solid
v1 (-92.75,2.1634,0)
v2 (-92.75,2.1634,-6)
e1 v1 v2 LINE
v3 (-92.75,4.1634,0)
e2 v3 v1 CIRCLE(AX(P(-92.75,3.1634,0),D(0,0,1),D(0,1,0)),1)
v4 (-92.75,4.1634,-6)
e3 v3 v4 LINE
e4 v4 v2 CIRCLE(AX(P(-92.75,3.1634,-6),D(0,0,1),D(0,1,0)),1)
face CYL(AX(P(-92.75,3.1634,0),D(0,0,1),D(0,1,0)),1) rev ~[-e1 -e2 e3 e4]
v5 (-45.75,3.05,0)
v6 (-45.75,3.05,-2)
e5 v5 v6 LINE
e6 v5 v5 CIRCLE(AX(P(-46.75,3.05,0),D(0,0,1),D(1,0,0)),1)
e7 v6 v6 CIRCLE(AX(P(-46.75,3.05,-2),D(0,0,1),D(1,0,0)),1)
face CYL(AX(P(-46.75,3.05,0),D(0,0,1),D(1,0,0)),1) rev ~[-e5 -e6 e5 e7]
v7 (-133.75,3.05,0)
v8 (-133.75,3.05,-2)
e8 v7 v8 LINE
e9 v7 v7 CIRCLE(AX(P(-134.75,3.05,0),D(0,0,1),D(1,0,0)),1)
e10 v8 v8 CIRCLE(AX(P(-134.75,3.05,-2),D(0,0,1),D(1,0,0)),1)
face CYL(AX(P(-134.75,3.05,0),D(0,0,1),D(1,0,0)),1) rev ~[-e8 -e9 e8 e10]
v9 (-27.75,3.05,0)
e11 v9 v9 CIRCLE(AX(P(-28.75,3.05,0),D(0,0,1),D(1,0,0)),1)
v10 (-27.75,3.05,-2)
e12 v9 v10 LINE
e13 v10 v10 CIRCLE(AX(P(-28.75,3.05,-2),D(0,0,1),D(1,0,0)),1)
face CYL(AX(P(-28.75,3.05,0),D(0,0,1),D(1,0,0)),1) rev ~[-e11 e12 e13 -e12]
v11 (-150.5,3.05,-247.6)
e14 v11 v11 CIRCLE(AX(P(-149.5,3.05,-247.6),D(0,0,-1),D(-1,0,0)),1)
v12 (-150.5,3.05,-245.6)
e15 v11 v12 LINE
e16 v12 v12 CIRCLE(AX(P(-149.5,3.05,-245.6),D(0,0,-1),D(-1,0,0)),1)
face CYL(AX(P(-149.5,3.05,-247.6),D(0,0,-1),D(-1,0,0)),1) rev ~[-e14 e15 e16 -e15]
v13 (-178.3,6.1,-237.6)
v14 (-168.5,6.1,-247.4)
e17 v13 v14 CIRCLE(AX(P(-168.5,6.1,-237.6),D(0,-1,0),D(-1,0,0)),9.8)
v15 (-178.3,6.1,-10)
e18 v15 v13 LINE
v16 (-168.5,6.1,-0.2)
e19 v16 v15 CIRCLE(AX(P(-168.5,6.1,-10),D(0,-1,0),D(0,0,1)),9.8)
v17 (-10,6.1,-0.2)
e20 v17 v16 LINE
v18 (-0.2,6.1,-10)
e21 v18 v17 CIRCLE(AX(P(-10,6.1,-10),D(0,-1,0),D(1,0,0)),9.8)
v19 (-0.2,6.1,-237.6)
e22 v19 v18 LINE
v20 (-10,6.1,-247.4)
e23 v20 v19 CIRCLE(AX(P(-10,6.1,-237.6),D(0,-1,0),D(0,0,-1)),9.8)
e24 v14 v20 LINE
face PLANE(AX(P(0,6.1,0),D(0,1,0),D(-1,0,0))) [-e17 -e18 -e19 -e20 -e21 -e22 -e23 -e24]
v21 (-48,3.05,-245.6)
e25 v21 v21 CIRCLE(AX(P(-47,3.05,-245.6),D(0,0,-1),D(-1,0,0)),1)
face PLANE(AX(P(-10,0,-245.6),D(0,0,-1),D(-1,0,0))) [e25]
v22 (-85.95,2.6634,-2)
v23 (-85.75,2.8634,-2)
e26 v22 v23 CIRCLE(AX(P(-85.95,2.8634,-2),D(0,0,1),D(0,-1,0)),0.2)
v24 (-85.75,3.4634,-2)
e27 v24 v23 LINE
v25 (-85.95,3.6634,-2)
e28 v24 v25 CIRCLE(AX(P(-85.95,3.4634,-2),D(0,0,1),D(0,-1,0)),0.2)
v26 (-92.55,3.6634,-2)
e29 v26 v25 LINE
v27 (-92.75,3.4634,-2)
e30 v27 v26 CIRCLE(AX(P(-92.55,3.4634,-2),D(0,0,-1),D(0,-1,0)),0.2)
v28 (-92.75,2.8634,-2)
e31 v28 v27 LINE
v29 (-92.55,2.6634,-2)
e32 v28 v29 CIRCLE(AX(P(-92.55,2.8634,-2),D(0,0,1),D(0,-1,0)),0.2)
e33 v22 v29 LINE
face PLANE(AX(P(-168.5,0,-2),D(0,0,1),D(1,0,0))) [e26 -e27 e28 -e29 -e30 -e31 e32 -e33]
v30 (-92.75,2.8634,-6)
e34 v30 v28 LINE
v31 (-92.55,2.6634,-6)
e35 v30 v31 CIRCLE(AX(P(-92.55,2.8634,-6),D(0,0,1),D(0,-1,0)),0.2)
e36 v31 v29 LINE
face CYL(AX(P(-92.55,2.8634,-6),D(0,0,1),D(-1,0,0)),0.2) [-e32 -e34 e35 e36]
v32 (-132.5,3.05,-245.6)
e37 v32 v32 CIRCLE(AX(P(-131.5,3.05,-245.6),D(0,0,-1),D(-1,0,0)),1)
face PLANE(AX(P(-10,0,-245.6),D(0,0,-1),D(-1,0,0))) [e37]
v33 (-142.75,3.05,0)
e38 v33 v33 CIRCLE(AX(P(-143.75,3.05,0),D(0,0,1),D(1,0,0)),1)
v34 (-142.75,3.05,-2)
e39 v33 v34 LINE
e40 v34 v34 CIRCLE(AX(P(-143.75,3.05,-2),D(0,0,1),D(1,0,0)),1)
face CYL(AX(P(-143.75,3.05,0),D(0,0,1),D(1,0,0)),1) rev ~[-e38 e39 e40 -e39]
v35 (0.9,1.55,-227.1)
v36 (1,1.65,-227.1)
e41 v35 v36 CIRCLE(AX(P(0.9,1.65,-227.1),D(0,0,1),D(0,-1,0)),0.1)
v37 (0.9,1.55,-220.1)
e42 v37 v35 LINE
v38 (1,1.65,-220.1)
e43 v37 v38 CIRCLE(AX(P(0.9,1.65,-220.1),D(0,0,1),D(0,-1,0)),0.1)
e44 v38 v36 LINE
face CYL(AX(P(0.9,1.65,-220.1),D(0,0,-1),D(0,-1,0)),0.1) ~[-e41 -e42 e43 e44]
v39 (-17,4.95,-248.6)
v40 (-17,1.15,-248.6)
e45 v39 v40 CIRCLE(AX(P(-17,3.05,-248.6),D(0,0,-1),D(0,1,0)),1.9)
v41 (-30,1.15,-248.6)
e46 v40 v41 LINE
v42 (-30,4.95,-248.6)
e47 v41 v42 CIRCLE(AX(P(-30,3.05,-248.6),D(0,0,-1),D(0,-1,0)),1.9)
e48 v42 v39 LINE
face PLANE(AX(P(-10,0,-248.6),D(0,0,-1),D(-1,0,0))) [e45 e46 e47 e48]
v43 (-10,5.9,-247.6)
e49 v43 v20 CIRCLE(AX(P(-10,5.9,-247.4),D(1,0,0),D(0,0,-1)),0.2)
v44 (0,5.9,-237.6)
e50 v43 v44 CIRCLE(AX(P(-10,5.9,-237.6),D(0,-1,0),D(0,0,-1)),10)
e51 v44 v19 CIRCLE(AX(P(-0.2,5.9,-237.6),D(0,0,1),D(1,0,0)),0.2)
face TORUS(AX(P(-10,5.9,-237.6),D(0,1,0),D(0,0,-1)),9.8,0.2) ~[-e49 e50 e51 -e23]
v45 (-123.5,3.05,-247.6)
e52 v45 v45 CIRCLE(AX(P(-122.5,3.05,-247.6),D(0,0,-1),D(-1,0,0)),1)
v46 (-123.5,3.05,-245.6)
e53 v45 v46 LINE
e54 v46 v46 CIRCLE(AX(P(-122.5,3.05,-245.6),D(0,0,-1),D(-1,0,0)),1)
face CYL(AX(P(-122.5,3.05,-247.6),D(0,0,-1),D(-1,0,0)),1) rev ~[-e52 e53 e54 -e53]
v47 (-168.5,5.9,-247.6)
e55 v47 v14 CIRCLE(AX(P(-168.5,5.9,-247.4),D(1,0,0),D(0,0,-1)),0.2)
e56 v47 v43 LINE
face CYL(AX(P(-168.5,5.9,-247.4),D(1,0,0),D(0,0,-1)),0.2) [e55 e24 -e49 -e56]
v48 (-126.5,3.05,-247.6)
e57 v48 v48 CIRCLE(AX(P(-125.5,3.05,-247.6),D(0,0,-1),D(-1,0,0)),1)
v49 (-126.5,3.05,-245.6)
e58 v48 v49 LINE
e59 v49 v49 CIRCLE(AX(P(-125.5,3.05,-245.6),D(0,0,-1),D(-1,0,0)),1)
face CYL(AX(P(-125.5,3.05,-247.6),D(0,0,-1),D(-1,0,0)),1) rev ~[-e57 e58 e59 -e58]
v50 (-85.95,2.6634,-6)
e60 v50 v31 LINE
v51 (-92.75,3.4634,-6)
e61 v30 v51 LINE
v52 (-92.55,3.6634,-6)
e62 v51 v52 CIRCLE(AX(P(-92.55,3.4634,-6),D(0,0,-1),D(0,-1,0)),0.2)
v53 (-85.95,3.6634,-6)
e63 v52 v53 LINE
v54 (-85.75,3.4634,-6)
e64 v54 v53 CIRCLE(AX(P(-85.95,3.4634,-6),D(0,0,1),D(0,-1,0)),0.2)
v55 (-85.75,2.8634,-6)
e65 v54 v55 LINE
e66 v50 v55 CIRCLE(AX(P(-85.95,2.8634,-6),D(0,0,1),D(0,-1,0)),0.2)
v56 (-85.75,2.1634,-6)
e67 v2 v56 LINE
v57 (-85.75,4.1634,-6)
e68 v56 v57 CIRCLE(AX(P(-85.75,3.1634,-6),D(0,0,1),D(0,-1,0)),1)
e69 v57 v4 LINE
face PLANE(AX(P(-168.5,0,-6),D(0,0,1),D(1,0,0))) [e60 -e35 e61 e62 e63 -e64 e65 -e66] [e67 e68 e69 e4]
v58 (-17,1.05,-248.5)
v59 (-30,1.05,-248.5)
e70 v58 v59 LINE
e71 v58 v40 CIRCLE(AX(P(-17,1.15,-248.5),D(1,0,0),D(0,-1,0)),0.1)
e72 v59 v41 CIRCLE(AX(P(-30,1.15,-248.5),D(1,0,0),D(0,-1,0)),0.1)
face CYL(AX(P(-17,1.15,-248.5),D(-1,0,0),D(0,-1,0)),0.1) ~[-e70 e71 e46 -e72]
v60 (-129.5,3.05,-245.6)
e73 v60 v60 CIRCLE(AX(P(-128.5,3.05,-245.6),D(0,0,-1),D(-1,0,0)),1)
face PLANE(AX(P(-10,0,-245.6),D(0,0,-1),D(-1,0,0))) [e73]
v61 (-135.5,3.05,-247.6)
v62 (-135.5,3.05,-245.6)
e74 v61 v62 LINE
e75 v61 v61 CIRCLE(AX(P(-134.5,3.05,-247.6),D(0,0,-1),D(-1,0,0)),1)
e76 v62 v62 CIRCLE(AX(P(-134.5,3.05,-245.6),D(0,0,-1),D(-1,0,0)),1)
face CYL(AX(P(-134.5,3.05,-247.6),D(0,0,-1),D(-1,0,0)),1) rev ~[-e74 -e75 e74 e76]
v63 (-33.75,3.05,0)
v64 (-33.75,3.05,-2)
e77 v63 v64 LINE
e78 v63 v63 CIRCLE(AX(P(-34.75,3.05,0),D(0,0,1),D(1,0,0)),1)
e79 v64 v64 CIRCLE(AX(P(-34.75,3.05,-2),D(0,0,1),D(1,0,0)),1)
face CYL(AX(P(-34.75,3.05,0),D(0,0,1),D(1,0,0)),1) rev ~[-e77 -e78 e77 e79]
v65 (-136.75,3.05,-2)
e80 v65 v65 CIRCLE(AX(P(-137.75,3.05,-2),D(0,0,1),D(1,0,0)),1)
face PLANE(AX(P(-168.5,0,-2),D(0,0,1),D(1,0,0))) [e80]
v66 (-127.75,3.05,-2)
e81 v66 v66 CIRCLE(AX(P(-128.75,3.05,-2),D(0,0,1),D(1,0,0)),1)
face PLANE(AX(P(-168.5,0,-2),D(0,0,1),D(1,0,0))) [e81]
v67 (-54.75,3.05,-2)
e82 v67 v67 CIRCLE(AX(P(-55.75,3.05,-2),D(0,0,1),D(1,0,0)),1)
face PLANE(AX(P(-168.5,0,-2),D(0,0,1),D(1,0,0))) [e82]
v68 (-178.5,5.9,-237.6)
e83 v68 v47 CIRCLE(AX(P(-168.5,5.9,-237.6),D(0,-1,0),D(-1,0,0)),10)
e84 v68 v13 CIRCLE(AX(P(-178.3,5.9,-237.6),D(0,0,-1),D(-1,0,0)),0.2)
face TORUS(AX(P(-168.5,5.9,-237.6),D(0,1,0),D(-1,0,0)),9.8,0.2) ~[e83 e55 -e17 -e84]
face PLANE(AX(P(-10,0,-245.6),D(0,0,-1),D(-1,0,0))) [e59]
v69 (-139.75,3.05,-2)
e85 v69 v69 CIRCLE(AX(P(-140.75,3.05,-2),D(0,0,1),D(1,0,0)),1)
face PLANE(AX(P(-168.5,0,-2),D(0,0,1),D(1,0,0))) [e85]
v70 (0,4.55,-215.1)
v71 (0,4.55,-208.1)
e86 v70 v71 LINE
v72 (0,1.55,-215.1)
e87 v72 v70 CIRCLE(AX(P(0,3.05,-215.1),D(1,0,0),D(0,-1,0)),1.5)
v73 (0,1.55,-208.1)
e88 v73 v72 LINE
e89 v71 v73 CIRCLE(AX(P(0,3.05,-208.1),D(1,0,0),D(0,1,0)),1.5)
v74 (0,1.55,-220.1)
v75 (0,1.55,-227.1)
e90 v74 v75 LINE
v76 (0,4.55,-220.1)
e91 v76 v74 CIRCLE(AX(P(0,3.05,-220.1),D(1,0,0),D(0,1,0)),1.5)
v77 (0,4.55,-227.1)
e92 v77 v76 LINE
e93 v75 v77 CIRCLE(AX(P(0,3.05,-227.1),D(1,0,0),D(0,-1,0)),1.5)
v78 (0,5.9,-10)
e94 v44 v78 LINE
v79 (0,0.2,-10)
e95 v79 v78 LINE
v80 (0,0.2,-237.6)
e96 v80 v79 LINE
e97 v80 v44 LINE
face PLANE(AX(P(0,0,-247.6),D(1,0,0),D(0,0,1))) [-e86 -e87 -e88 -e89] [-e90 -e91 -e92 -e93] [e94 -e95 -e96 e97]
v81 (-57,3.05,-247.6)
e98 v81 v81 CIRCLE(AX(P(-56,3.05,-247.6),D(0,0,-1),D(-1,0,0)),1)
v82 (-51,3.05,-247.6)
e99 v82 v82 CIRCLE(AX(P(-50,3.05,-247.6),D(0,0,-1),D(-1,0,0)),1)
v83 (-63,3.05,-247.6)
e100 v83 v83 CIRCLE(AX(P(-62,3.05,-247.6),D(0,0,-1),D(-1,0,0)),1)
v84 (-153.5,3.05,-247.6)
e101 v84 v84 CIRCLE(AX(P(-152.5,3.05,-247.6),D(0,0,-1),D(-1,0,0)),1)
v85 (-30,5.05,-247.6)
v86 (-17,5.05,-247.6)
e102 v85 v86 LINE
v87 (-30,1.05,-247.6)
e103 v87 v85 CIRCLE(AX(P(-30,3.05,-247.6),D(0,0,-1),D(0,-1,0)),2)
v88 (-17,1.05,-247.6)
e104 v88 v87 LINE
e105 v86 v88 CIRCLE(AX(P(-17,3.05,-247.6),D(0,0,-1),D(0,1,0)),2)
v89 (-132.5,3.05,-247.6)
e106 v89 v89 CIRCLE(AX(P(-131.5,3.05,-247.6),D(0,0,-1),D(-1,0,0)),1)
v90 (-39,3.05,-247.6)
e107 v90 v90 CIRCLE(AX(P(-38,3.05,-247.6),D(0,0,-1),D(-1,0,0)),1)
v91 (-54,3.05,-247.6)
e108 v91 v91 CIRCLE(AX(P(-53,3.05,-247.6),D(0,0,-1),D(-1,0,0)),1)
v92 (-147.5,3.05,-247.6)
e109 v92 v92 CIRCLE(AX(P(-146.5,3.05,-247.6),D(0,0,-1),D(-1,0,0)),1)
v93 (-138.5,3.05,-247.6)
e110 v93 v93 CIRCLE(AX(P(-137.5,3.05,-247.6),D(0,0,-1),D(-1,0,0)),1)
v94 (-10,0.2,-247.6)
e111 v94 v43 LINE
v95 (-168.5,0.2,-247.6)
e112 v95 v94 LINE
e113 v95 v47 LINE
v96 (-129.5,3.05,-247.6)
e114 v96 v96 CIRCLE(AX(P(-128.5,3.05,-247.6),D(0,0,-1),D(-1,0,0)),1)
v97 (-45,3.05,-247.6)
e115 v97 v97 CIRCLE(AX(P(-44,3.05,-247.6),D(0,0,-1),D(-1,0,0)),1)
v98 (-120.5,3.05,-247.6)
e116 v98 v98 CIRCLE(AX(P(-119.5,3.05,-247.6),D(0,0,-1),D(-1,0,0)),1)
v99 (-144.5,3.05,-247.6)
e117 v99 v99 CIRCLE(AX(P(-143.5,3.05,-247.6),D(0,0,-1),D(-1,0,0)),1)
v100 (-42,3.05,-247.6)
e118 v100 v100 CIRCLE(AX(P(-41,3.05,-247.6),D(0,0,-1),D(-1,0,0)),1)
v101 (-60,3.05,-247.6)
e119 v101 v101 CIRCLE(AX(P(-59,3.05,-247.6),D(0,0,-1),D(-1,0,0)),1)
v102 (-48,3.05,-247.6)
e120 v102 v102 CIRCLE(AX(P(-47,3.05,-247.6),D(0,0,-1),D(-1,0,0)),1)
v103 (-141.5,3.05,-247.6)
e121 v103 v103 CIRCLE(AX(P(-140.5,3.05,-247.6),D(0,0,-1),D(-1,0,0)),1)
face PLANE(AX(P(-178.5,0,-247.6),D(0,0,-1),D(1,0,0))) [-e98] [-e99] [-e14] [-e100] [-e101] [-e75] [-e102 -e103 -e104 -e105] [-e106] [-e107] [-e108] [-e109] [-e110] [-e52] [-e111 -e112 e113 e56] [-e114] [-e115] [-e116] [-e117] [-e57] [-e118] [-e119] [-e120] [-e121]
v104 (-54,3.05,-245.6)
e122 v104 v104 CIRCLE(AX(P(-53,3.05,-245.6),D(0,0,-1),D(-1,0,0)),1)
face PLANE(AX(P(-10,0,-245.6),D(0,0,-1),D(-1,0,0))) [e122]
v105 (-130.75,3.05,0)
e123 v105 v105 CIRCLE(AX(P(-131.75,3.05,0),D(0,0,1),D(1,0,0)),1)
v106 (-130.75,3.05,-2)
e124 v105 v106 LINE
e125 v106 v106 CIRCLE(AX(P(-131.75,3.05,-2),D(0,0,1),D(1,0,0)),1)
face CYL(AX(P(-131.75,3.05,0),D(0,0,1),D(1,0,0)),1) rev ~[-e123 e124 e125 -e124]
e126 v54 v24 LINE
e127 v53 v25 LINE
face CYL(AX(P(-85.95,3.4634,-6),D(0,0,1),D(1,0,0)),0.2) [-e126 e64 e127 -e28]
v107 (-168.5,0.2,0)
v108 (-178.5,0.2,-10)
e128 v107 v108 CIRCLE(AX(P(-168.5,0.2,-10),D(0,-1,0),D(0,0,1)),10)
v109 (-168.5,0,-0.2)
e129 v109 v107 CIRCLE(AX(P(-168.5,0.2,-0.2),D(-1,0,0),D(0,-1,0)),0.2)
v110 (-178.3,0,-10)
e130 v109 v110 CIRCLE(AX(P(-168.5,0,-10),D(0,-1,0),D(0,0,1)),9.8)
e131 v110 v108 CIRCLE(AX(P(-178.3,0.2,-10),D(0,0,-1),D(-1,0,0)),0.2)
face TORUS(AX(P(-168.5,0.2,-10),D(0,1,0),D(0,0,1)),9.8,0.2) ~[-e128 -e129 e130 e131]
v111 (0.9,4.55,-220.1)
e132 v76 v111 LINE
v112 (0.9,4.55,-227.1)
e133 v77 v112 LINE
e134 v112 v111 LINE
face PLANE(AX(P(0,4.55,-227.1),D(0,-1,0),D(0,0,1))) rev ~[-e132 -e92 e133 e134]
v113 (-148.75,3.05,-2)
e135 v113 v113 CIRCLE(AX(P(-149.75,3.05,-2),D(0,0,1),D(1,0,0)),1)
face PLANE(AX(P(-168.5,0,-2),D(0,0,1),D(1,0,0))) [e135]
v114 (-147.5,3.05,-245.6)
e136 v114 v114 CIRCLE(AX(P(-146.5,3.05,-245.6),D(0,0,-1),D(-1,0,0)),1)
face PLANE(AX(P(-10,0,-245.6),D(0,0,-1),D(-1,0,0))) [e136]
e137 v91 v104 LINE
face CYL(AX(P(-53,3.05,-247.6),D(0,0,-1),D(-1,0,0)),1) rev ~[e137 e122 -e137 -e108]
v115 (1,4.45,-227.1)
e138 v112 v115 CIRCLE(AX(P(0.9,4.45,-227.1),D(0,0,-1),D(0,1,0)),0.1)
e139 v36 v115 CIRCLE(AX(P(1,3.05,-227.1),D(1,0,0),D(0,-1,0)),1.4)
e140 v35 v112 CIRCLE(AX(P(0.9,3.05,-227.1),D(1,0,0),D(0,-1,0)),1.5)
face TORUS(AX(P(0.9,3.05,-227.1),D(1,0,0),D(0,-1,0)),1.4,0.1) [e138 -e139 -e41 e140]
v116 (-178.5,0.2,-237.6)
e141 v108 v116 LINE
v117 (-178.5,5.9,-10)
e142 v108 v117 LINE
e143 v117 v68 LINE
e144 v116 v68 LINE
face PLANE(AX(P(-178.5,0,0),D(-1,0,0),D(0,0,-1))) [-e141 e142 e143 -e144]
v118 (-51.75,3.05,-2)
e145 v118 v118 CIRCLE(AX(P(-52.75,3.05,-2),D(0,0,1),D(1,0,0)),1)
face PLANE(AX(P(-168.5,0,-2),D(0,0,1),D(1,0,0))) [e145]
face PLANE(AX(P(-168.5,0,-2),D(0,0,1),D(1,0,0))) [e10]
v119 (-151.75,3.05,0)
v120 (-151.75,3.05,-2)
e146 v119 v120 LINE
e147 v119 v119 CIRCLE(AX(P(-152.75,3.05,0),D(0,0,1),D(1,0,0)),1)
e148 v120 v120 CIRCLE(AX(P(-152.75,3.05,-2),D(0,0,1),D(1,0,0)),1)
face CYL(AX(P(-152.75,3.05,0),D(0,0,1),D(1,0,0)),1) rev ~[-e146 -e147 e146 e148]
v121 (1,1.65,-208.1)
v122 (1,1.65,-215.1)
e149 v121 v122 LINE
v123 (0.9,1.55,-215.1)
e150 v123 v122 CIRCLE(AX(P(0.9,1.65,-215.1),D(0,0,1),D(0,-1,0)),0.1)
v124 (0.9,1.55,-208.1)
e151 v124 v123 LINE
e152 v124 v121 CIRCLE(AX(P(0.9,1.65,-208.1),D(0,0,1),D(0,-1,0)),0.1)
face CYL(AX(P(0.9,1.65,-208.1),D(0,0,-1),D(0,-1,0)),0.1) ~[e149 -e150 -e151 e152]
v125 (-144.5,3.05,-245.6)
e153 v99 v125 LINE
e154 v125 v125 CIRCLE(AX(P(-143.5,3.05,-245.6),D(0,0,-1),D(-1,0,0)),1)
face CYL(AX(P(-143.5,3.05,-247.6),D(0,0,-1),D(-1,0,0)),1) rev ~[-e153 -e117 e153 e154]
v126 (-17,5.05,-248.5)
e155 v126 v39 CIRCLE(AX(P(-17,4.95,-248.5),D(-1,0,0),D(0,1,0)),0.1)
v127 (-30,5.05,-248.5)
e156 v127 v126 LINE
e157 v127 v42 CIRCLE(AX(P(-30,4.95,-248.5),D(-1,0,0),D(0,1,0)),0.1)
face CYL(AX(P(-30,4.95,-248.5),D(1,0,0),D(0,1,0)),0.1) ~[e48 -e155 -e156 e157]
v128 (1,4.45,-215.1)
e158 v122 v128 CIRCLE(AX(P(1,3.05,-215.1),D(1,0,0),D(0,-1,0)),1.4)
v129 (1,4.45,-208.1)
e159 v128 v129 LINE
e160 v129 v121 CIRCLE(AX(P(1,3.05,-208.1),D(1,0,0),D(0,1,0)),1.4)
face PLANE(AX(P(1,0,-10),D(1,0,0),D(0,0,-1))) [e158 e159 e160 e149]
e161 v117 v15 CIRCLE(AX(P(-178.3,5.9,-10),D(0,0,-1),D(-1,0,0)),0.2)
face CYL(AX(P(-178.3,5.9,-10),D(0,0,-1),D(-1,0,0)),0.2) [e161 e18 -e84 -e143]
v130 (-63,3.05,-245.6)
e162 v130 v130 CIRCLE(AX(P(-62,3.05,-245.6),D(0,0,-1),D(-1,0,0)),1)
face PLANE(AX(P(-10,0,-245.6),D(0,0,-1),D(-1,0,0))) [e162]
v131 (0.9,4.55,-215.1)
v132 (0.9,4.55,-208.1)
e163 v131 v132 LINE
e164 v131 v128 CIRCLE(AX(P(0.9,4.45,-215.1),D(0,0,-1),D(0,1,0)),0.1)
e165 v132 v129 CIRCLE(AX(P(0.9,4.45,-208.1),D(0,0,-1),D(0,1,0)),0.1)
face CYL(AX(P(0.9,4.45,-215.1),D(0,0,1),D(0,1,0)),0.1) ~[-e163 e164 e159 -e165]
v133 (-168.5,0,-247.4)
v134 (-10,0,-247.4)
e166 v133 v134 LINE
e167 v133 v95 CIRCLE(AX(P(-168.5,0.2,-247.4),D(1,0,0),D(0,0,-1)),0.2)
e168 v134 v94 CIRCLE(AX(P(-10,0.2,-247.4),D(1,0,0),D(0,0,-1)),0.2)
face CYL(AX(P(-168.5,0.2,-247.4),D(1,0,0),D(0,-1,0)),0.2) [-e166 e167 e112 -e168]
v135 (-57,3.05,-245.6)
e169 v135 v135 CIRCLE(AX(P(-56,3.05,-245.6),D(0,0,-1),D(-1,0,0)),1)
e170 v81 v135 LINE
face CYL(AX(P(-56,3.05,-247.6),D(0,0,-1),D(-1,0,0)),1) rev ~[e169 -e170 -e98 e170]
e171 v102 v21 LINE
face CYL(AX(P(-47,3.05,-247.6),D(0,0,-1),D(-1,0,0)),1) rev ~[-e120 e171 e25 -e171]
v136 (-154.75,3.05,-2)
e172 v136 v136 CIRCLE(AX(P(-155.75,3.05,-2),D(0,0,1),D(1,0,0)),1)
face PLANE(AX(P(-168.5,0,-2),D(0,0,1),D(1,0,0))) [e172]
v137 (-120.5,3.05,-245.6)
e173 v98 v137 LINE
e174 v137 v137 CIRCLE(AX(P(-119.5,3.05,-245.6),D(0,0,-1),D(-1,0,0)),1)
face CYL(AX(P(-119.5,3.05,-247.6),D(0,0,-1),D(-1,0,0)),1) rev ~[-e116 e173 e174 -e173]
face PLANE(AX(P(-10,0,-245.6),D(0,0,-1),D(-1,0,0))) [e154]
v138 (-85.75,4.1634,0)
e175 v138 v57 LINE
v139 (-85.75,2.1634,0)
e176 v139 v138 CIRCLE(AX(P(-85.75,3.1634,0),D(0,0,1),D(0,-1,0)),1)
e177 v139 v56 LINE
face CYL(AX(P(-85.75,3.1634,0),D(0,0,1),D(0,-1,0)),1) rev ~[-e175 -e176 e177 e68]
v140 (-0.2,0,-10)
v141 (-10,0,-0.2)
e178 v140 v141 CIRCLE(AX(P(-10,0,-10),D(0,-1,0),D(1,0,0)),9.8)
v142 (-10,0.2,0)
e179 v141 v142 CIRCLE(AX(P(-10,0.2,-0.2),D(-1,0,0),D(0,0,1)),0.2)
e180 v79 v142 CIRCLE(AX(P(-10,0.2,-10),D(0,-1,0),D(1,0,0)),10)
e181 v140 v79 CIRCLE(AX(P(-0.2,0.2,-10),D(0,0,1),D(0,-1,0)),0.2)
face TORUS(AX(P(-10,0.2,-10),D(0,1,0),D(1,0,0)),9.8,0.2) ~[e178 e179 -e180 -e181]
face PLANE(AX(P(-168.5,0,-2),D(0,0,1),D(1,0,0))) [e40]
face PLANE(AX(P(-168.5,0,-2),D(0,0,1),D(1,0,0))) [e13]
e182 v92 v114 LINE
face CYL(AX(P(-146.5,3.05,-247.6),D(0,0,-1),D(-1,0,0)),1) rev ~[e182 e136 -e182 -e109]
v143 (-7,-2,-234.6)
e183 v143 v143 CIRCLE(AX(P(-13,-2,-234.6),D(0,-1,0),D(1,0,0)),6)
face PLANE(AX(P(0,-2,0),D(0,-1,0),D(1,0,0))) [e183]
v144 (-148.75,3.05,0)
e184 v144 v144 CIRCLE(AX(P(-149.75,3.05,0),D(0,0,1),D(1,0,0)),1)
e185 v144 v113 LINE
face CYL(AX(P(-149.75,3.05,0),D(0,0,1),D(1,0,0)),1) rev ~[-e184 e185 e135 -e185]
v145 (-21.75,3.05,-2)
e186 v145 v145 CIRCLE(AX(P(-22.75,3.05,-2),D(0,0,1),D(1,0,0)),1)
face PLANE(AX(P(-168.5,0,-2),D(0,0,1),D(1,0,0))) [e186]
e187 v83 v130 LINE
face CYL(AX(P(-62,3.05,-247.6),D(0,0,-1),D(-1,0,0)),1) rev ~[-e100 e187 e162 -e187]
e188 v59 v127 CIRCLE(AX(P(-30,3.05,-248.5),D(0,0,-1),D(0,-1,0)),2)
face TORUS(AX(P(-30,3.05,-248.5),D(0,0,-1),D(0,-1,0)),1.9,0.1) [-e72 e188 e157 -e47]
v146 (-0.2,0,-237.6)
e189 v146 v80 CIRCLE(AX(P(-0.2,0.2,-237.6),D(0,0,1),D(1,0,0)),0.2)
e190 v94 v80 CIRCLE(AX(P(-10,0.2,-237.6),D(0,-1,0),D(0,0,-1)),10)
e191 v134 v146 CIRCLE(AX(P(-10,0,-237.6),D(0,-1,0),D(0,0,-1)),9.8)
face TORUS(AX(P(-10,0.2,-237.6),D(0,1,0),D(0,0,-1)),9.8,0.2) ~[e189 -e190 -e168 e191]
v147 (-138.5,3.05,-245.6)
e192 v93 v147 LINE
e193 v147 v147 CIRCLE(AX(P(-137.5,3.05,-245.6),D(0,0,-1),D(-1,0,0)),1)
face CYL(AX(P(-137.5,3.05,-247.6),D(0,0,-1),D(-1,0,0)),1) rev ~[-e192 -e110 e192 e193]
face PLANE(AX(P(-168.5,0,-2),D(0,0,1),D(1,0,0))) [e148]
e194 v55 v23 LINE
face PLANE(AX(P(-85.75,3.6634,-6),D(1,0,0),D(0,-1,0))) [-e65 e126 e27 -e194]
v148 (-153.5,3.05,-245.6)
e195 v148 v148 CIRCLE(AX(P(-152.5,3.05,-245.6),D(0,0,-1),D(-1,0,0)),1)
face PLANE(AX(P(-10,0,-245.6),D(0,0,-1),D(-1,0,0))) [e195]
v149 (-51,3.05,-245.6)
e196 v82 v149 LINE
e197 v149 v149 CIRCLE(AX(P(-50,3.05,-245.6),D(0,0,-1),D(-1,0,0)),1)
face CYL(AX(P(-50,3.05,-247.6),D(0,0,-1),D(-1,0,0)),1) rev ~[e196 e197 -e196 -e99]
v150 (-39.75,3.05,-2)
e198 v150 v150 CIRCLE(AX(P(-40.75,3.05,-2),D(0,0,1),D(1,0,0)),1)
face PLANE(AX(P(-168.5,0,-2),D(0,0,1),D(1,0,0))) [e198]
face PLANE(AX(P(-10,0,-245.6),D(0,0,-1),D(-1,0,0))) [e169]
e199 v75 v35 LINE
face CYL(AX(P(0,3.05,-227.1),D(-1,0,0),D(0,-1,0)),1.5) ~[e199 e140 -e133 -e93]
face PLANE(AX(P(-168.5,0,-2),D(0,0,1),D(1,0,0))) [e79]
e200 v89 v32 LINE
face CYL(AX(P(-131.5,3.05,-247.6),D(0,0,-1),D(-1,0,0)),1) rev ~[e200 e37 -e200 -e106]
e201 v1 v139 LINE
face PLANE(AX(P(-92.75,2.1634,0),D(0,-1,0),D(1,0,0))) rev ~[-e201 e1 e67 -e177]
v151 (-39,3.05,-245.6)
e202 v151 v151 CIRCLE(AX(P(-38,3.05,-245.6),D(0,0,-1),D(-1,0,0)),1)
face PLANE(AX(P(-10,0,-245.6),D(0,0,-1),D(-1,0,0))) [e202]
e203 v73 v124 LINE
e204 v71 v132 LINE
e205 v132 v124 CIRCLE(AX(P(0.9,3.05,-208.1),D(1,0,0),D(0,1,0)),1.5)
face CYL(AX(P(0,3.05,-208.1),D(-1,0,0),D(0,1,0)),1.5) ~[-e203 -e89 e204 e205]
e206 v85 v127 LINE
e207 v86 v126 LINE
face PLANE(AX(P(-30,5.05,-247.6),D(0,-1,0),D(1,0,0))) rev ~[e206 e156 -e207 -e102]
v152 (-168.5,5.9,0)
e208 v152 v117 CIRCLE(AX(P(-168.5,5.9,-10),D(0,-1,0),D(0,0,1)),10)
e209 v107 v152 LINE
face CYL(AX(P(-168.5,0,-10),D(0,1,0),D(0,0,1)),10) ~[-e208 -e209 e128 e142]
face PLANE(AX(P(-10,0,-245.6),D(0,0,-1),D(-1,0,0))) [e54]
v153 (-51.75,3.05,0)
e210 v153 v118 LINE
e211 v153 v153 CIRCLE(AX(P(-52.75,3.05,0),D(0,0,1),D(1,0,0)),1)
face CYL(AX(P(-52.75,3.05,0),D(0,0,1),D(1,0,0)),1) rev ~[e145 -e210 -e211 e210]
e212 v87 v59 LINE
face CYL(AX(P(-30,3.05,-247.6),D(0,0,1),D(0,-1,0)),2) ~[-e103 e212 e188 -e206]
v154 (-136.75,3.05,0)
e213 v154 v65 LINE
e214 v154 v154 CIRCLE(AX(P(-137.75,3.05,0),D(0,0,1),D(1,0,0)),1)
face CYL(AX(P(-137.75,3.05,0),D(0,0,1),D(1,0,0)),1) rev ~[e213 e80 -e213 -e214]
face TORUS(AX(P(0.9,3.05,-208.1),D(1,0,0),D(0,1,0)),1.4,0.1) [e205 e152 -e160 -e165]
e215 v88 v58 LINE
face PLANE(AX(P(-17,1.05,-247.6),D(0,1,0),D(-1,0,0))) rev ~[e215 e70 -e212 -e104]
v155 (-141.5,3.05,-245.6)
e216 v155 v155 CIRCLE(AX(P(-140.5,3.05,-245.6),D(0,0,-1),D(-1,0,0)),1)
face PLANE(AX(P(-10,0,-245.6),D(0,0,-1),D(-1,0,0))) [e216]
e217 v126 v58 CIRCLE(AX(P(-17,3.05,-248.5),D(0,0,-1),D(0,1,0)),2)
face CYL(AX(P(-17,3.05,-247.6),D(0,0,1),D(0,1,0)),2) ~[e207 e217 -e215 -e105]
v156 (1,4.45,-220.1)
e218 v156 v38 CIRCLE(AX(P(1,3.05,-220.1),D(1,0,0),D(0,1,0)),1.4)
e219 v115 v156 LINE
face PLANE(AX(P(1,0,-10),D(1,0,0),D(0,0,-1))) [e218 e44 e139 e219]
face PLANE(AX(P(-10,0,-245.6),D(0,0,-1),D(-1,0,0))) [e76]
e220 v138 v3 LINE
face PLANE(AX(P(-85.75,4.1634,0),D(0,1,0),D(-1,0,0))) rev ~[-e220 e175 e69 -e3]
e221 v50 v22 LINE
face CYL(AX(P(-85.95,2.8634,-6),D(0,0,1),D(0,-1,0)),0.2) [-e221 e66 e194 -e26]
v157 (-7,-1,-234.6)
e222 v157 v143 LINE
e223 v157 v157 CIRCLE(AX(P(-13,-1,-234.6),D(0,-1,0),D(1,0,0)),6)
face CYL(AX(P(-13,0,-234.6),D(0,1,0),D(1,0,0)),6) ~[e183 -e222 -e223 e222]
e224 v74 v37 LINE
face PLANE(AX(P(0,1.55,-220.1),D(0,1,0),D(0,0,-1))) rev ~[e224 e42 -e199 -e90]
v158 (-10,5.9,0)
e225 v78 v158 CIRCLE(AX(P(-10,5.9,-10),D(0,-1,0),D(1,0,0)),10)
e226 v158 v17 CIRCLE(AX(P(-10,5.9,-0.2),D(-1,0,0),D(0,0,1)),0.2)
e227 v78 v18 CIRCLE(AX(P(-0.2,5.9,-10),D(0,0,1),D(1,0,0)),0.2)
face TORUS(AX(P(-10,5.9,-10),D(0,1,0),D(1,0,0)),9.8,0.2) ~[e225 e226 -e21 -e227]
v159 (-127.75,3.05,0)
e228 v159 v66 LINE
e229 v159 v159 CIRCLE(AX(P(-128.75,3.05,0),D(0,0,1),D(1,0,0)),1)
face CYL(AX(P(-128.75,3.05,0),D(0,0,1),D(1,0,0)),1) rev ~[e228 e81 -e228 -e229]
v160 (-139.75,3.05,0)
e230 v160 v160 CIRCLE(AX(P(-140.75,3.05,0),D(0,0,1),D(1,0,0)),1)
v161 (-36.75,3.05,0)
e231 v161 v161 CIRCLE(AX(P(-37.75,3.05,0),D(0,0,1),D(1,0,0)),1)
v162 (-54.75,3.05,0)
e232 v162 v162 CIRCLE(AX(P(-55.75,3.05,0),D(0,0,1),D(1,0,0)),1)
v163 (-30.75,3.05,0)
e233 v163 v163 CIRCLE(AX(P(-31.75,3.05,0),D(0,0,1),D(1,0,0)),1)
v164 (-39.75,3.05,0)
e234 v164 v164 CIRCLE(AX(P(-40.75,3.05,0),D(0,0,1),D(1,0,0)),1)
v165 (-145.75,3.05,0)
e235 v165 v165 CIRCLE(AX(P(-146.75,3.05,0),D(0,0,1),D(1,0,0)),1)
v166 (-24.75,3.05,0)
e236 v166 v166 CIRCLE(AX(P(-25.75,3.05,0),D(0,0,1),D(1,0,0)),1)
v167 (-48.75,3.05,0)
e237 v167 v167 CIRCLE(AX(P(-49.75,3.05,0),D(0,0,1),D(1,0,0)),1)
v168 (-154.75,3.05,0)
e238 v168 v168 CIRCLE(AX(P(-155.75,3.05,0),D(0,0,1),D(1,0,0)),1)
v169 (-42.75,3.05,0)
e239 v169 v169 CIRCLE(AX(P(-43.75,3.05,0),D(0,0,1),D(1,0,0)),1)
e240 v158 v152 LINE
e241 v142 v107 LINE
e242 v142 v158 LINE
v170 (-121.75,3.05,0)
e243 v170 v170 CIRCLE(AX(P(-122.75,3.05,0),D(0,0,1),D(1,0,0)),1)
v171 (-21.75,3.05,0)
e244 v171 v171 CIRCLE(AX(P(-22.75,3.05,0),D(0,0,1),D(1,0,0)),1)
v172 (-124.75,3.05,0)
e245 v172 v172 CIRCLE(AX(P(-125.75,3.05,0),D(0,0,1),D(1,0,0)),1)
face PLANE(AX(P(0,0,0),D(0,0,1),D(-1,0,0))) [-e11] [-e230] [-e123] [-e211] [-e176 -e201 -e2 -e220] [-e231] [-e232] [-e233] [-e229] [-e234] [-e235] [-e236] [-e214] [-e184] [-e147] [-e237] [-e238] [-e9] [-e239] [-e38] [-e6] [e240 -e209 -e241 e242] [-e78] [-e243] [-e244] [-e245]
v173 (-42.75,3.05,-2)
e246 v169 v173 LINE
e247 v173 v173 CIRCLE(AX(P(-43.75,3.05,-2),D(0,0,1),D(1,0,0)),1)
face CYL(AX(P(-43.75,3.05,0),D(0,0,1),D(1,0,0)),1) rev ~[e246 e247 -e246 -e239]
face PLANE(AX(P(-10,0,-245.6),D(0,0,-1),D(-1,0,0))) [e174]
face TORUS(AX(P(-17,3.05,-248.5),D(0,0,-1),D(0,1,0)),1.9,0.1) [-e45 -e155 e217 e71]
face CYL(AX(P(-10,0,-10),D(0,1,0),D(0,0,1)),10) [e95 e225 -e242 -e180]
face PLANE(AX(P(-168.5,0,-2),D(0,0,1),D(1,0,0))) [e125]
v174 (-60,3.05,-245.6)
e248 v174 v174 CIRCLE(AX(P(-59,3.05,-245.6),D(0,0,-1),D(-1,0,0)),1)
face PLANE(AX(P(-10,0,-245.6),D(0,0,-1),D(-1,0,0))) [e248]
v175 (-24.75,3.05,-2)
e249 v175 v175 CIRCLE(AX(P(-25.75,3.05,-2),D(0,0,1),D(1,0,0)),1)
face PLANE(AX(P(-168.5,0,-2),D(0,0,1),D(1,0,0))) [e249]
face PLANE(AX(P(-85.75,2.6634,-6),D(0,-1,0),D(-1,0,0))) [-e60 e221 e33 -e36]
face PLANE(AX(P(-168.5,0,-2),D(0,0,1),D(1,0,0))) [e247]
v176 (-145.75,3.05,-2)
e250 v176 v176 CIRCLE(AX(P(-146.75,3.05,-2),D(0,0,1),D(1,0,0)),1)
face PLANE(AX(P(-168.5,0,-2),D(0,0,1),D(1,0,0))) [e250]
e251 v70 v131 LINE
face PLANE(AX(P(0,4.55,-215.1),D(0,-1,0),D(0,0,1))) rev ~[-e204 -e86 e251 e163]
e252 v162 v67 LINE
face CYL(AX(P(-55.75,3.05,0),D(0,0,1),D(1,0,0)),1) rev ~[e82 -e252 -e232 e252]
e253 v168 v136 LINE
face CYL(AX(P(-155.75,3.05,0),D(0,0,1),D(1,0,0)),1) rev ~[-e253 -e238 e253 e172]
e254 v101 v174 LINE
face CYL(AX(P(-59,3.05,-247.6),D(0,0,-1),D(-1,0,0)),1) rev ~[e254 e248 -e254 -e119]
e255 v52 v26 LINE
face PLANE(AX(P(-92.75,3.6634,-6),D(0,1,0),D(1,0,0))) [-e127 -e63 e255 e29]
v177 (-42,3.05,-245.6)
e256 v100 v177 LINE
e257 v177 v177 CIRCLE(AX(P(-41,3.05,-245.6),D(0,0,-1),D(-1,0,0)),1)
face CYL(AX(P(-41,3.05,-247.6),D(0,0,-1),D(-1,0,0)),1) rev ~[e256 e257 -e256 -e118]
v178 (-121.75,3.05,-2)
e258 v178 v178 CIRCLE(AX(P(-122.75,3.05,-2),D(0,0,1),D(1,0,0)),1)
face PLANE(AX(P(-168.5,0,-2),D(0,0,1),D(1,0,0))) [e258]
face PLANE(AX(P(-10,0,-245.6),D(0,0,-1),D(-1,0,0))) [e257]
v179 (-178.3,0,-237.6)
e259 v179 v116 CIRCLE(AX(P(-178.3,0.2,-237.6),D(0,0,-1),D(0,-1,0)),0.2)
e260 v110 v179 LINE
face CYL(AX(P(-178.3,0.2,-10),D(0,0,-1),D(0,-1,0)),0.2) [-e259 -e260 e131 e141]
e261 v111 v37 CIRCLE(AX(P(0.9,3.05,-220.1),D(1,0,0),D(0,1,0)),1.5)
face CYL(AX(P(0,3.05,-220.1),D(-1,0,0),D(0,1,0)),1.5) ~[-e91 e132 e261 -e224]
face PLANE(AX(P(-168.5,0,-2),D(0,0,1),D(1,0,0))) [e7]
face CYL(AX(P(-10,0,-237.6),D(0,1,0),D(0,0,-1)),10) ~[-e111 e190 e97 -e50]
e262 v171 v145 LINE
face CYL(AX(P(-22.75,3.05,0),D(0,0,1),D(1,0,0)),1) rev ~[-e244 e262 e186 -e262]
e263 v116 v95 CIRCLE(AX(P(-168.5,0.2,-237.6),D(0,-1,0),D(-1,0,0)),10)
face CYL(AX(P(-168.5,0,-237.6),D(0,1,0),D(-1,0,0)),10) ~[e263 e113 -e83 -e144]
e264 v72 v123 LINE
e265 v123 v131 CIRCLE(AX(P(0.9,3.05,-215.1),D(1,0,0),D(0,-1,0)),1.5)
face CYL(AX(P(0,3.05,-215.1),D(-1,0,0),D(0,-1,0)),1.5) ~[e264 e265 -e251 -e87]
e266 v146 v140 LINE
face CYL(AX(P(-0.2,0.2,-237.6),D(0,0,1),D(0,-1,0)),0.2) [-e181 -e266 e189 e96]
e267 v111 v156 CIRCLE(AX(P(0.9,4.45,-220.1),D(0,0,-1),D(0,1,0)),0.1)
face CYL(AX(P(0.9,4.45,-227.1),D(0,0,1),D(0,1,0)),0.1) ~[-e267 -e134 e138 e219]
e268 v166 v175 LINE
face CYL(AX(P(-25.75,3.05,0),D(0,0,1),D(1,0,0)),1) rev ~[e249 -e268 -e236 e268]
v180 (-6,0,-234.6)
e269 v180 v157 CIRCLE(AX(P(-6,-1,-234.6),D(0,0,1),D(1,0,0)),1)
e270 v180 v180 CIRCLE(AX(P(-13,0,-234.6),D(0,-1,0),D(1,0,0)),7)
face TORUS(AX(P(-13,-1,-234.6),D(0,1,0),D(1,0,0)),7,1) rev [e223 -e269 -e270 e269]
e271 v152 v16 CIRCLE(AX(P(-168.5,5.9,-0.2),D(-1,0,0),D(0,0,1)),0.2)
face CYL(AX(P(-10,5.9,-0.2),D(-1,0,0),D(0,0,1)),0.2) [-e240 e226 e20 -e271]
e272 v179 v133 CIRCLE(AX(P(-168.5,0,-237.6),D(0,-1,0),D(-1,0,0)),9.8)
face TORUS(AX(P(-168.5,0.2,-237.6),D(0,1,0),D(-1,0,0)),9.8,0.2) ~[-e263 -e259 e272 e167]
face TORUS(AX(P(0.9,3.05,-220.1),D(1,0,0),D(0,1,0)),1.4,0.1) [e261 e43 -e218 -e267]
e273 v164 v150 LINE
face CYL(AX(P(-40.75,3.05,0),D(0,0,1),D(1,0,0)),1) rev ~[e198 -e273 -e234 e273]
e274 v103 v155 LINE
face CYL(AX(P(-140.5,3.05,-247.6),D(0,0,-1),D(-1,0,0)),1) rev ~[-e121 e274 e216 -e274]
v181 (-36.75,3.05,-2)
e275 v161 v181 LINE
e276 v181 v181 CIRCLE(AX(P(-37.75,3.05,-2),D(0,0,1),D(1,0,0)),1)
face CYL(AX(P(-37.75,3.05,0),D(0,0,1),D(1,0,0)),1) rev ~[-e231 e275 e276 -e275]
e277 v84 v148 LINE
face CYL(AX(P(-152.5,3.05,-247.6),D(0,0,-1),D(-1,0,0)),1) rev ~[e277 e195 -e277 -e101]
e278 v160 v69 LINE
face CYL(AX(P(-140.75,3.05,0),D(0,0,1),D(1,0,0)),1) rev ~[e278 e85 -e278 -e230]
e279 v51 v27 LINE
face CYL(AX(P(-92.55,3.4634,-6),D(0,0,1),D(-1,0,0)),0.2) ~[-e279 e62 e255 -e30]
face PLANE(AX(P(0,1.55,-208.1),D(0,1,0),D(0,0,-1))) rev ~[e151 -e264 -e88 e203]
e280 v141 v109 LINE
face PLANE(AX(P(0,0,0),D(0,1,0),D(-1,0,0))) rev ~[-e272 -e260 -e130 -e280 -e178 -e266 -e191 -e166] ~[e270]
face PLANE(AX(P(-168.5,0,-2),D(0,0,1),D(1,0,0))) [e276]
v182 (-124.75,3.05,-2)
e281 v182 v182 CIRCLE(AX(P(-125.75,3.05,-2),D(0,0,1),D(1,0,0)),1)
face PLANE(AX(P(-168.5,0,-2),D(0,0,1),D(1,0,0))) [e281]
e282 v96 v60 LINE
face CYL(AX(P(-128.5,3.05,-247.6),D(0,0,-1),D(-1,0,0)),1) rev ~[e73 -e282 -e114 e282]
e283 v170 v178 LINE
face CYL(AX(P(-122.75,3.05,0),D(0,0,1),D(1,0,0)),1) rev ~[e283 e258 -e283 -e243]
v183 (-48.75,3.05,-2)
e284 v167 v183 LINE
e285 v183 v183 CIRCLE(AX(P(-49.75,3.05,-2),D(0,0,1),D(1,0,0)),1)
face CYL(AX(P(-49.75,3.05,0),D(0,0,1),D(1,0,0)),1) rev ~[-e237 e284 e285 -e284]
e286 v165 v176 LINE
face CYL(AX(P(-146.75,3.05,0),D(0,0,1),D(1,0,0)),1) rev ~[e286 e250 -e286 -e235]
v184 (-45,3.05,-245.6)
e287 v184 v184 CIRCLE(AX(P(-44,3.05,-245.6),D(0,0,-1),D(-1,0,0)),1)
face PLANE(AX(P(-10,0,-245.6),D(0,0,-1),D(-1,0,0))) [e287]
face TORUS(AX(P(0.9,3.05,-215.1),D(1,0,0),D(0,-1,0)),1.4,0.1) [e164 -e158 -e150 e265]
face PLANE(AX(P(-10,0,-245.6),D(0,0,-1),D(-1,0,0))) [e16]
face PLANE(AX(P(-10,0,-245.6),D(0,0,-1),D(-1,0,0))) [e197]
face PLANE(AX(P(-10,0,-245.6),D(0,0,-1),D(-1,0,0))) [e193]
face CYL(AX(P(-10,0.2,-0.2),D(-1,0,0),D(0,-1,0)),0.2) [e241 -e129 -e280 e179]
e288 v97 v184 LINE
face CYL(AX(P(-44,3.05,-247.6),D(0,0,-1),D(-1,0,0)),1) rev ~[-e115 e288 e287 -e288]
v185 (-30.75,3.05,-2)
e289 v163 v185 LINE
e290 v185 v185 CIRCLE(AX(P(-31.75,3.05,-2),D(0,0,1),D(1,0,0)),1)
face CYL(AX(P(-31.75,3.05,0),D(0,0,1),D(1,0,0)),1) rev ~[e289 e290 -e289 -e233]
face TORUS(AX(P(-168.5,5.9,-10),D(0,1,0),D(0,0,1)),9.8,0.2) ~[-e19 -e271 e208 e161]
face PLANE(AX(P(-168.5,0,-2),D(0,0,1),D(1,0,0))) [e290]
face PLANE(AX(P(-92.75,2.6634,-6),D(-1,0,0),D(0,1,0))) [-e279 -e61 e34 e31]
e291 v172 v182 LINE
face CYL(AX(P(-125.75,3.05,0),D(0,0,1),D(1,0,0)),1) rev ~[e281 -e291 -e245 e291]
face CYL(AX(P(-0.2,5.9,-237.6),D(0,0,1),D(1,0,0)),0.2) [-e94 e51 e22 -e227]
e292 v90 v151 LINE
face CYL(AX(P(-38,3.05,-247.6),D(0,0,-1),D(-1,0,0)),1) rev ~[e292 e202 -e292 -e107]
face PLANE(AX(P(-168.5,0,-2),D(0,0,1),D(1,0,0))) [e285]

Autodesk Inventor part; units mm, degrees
ref_plane "YZ Plane" through (0, 0, 0) normal (1, 0, 0) x (0, 1, 0)
ref_plane "XZ Plane" through (0, 0, 0) normal (0, 1, 0) x (-1, 0, 0)
ref_plane "XY Plane" through (0, 0, 0) normal (0, 0, 1) x (1, 0, 0)
sketch "Sketch1" plane through (0, 0, 0) normal (0, 1, 0) x (-1, 0, 0)
  line L0 (0, 0) -> (178.5, 0)
  line L1 (178.5, 0) -> (178.5, -247.6)
  line L2 (178.5, -247.6) -> (0, -247.6)
  line L3 (0, -247.6) -> (0, 0)
  dimension "d0" = 178.5
  dimension "d1" = 247.6
extrude "Extrusion1" add sketch "Sketch1" along normal blind 6.1
fillet "Fillet1" radius 10 4 edges at (0, 3.05, 0) (0, 3.05, -247.6) (-178.5, 3.05, -247.6) (-178.5, 3.05, 0)
sketch "Sketch2" plane through (0, 0, -10) normal (1, 0, 0) x (0, 0, -1)
  line L0 (210.1, 3.05) -> (217.1, 3.05) construction
  line L1 (210.1, 1.55) -> (217.1, 1.55)
  line L2 (217.1, 4.55) -> (210.1, 4.55)
  arc A0 (210.1, 4.55) -> (210.1, 1.55) centre (210.1, 3.05) ccw
  arc A1 (217.1, 1.55) -> (217.1, 4.55) centre (217.1, 3.05) ccw
  line L3 (198.1, 3.05) -> (205.1, 3.05) construction
  line L4 (198.1, 1.55) -> (205.1, 1.55)
  line L5 (205.1, 4.55) -> (198.1, 4.55)
  arc A2 (198.1, 4.55) -> (198.1, 1.55) centre (198.1, 3.05) ccw
  arc A3 (205.1, 1.55) -> (205.1, 4.55) centre (205.1, 3.05) ccw
  line L6 (227.6, 6.1) -> (227.6, 0) projected
  point P0 (-10, 0)
  point P1 (213.6, 3.05)
  point P2 (218.6, 3.05)
  point P3 (208.6, 3.05)
  point P4 (201.6, 3.05)
  point P5 (206.6, 3.05)
  point P6 (196.6, 3.05)
  point P7 (227.6, 3.05)
  point P8 (227.6, 3.05)
  point P9 (227.6, 3.05)
  dimension "d5" = 7
  dimension "d6" = 3
  dimension "d8" = 7
  dimension "d9" = 3
  dimension "d10" = 2
  dimension "d11" = 9
extrude "Extrusion2" add sketch "Sketch2" along normal blind 1
sketch "Sketch3" plane through (-10, 0, -247.6) normal (0, 0, -1) x (-1, 0, 0)
  line L0 (7, 3.05) -> (20, 3.05) construction
  line L1 (7, 1.05) -> (20, 1.05)
  line L2 (20, 5.05) -> (7, 5.05)
  arc A0 (7, 5.05) -> (7, 1.05) centre (7, 3.05) ccw
  arc A1 (20, 1.05) -> (20, 5.05) centre (20, 3.05) ccw
  line L3 (0, 0) -> (0, 6.1) projected
  circle A2 centre (28, 3.05) radius 1
  circle A3 centre (31, 3.05) radius 1
  circle A4 centre (34, 3.05) radius 1
  circle A5 centre (37, 3.05) radius 1
  circle A6 centre (40, 3.05) radius 1
  circle A7 centre (43, 3.05) radius 1
  circle A8 centre (46, 3.05) radius 1
  circle A9 centre (49, 3.05) radius 1
  circle A10 centre (52, 3.05) radius 1
  circle A11 centre (142.5, 3.05) radius 1
  circle A12 centre (139.5, 3.05) radius 1
  circle A13 centre (136.5, 3.05) radius 1
  circle A14 centre (133.5, 3.05) radius 1
  circle A15 centre (130.5, 3.05) radius 1
  circle A16 centre (127.5, 3.05) radius 1
  circle A17 centre (124.5, 3.05) radius 1
  circle A18 centre (121.5, 3.05) radius 1
  circle A19 centre (118.5, 3.05) radius 1
  line L4 (158.5, 6.1) -> (158.5, 0) projected
  line L5 (168.5, 0) -> (168.5, 6.1) projected
  circle A20 centre (115.5, 3.05) radius 1
  circle A21 centre (112.5, 3.05) radius 1
  circle A22 centre (109.5, 3.05) radius 1
  point P0 (-10, 0)
  point P1 (13.5, 3.05)
  point P2 (0, 3.05)
  point P3 (5, 3.05)
  point P4 (0, 3.05)
  point P5 (22, 3.05)
  point P6 (158.5, 3.05)
  dimension "d14" = 13
  dimension "d15" = 4
  dimension "d16" = 5
  dimension "d19" = 2
  dimension "d22" = 3
  dimension "d27" = 6
  dimension "d28" = 2
  dimension "d31" = 3
  dimension "d37" = 26
  dimension "d40" = 3
extrude "Extrusion3" add sketch "Sketch3" along normal blind 1 contours A0 L2 A1 L1
extrude "Extrusion4" cut sketch "Sketch3" against normal blind 2 contours A2 | A3 | A4 | A5 | A6 | A7 | A8 | A9 | A10 | A11 | A12 | A13 | A14 | A15 | A16 | A17 | A18 | A19 | A20 | A21 | A22
sketch "Sketch4" plane through (-168.5, 0, 0) normal (0, 0, 1) x (1, 0, 0)
  line L0 (75.75, 3.1634) -> (82.75, 3.1634) construction
  line L1 (75.75, 2.1634) -> (82.75, 2.1634)
  line L2 (82.75, 4.1634) -> (75.75, 4.1634)
  arc A0 (75.75, 4.1634) -> (75.75, 2.1634) centre (75.75, 3.1634) ccw
  arc A1 (82.75, 2.1634) -> (82.75, 4.1634) centre (82.75, 3.1634) ccw
  line L3 (0, 6.1) -> (158.5, 6.1) projected
  circle A2 centre (112.75, 3.05) radius 1
  circle A3 centre (115.75, 3.05) radius 1
  circle A4 centre (118.75, 3.05) radius 1
  circle A5 centre (121.75, 3.05) radius 1
  circle A6 centre (124.75, 3.05) radius 1
  circle A7 centre (127.75, 3.05) radius 1
  circle A8 centre (130.75, 3.05) radius 1
  circle A9 centre (133.75, 3.05) radius 1
  circle A10 centre (136.75, 3.05) radius 1
  circle A11 centre (139.75, 3.05) radius 1
  circle A12 centre (142.75, 3.05) radius 1
  circle A13 centre (145.75, 3.05) radius 1
  circle A14 centre (45.75, 3.05) radius 1
  circle A15 centre (42.75, 3.05) radius 1
  circle A16 centre (39.75, 3.05) radius 1
  circle A17 centre (36.75, 3.05) radius 1
  circle A18 centre (33.75, 3.05) radius 1
  circle A19 centre (30.75, 3.05) radius 1
  circle A20 centre (27.75, 3.05) radius 1
  circle A21 centre (24.75, 3.05) radius 1
  circle A22 centre (21.75, 3.05) radius 1
  circle A23 centre (18.75, 3.05) radius 1
  circle A24 centre (15.75, 3.05) radius 1
  circle A25 centre (12.75, 3.05) radius 1
  point P0 (168.5, 0)
  point P1 (79.25, 3.1634)
  point P2 (79.25, 6.1)
  point P3 (83.75, 3.1634)
  point P4 (74.75, 3.1634)
  dimension "d47" = 7
  dimension "d48" = 2
  dimension "d49" = 2
  dimension "d50" = 29
  dimension "d53" = 3
  dimension "d58" = 2
  dimension "d59" = 29
  dimension "d62" = 3
extrude "Extrusion5" cut sketch "Sketch4" against normal blind 2 contours A2 | A3 | A4 | A5 | A6 | A7 | A8 | A9 | A10 | A11 | A12 | A13 | A14 | A15 | A16 | A17 | A18 | A19 | A20 | A21 | A22 | A23 | A24 | A25
extrude "Extrusion6" cut sketch "Sketch4" against normal blind 6 contours A0 L2 A1 L1
sketch "Sketch5" plane through (-168.5, 0, -6) normal (0, 0, 1) x (1, 0, 0)
  line L0 (75.75, 3.6634) -> (82.75, 3.6634)
  line L1 (82.75, 3.6634) -> (82.75, 2.6634)
  line L2 (82.75, 2.6634) -> (75.75, 2.6634)
  line L3 (75.75, 2.6634) -> (75.75, 3.6634)
  arc A0 (82.75, 2.1634) -> (82.75, 4.1634) centre (82.75, 3.1634) ccw projected
  line L4 (75.75, 4.1634) -> (82.75, 4.1634) projected
  point P0 (168.5, 0)
  point P1 (83.75, 3.1634)
  point P2 (82.75, 3.1634)
  point P3 (79.25, 4.1634)
  point P4 (79.25, 3.6634)
  dimension "d71" = 1
extrude "Extrusion7" add sketch "Sketch5" along normal blind 4
fillet "Fillet2" radius 0.2 4 edges at (-92.75, 3.6634, -4) (-92.75, 2.6634, -4) (-85.75, 3.6634, -4) (-85.75, 2.6634, -4)
sketch "Sketch6" plane through (0, 0, 0) normal (0, -1, 0) x (1, 0, 0)
  circle A0 centre (-13, -234.6) radius 5
  circle A1 centre (-13, -234.6) radius 6
  line L0 (-10, -247.6) -> (-168.5, -247.6) projected
  line L1 (0, -10) -> (0, -237.6) projected
  point P0 (0, 0)
  dimension "d75" = 10
  dimension "d76" = 12
  dimension "d77" = 13
  dimension "d78" = 13
extrude "Extrusion8" add sketch "Sketch6" along normal blind 2 contours A0 | A1
fillet "Fillet3" radius 1 1 edges at (-19, 0, -234.6)
fillet "Fillet4" radius 0.2 16 edges at (-2.9289, 6.1, -244.6711) (-89.25, 6.1, -247.6) (-175.5711, 6.1, -244.6711) (-178.5, 6.1, -123.8) (-175.5711, 6.1, -2.9289) (-89.25, 6.1, 0) (-2.9289, 6.1, -2.9289) (0, 6.1, -123.8) (-2.9289, 0, -244.6711) (-89.25, 0, -247.6) (-175.5711, 0, -244.6711) (-178.5, 0, -123.8) (-175.5711, 0, -2.9289) (-89.25, 0, 0) (-2.9289, 0, -2.9289) (0, 0, -123.8)
fillet "Fillet5" radius 0.1 12 edges at (1, 3.05, -206.6) (1, 1.55, -211.6) (1, 3.05, -216.6) (1, 4.55, -211.6) (1, 3.05, -218.6) (1, 1.55, -223.6) (1, 3.05, -228.6) (1, 4.55, -223.6) (-15, 3.05, -248.6) (-23.5, 1.05, -248.6) (-32, 3.05, -248.6) (-23.5, 5.05, -248.6)
properties part number "ipad"
